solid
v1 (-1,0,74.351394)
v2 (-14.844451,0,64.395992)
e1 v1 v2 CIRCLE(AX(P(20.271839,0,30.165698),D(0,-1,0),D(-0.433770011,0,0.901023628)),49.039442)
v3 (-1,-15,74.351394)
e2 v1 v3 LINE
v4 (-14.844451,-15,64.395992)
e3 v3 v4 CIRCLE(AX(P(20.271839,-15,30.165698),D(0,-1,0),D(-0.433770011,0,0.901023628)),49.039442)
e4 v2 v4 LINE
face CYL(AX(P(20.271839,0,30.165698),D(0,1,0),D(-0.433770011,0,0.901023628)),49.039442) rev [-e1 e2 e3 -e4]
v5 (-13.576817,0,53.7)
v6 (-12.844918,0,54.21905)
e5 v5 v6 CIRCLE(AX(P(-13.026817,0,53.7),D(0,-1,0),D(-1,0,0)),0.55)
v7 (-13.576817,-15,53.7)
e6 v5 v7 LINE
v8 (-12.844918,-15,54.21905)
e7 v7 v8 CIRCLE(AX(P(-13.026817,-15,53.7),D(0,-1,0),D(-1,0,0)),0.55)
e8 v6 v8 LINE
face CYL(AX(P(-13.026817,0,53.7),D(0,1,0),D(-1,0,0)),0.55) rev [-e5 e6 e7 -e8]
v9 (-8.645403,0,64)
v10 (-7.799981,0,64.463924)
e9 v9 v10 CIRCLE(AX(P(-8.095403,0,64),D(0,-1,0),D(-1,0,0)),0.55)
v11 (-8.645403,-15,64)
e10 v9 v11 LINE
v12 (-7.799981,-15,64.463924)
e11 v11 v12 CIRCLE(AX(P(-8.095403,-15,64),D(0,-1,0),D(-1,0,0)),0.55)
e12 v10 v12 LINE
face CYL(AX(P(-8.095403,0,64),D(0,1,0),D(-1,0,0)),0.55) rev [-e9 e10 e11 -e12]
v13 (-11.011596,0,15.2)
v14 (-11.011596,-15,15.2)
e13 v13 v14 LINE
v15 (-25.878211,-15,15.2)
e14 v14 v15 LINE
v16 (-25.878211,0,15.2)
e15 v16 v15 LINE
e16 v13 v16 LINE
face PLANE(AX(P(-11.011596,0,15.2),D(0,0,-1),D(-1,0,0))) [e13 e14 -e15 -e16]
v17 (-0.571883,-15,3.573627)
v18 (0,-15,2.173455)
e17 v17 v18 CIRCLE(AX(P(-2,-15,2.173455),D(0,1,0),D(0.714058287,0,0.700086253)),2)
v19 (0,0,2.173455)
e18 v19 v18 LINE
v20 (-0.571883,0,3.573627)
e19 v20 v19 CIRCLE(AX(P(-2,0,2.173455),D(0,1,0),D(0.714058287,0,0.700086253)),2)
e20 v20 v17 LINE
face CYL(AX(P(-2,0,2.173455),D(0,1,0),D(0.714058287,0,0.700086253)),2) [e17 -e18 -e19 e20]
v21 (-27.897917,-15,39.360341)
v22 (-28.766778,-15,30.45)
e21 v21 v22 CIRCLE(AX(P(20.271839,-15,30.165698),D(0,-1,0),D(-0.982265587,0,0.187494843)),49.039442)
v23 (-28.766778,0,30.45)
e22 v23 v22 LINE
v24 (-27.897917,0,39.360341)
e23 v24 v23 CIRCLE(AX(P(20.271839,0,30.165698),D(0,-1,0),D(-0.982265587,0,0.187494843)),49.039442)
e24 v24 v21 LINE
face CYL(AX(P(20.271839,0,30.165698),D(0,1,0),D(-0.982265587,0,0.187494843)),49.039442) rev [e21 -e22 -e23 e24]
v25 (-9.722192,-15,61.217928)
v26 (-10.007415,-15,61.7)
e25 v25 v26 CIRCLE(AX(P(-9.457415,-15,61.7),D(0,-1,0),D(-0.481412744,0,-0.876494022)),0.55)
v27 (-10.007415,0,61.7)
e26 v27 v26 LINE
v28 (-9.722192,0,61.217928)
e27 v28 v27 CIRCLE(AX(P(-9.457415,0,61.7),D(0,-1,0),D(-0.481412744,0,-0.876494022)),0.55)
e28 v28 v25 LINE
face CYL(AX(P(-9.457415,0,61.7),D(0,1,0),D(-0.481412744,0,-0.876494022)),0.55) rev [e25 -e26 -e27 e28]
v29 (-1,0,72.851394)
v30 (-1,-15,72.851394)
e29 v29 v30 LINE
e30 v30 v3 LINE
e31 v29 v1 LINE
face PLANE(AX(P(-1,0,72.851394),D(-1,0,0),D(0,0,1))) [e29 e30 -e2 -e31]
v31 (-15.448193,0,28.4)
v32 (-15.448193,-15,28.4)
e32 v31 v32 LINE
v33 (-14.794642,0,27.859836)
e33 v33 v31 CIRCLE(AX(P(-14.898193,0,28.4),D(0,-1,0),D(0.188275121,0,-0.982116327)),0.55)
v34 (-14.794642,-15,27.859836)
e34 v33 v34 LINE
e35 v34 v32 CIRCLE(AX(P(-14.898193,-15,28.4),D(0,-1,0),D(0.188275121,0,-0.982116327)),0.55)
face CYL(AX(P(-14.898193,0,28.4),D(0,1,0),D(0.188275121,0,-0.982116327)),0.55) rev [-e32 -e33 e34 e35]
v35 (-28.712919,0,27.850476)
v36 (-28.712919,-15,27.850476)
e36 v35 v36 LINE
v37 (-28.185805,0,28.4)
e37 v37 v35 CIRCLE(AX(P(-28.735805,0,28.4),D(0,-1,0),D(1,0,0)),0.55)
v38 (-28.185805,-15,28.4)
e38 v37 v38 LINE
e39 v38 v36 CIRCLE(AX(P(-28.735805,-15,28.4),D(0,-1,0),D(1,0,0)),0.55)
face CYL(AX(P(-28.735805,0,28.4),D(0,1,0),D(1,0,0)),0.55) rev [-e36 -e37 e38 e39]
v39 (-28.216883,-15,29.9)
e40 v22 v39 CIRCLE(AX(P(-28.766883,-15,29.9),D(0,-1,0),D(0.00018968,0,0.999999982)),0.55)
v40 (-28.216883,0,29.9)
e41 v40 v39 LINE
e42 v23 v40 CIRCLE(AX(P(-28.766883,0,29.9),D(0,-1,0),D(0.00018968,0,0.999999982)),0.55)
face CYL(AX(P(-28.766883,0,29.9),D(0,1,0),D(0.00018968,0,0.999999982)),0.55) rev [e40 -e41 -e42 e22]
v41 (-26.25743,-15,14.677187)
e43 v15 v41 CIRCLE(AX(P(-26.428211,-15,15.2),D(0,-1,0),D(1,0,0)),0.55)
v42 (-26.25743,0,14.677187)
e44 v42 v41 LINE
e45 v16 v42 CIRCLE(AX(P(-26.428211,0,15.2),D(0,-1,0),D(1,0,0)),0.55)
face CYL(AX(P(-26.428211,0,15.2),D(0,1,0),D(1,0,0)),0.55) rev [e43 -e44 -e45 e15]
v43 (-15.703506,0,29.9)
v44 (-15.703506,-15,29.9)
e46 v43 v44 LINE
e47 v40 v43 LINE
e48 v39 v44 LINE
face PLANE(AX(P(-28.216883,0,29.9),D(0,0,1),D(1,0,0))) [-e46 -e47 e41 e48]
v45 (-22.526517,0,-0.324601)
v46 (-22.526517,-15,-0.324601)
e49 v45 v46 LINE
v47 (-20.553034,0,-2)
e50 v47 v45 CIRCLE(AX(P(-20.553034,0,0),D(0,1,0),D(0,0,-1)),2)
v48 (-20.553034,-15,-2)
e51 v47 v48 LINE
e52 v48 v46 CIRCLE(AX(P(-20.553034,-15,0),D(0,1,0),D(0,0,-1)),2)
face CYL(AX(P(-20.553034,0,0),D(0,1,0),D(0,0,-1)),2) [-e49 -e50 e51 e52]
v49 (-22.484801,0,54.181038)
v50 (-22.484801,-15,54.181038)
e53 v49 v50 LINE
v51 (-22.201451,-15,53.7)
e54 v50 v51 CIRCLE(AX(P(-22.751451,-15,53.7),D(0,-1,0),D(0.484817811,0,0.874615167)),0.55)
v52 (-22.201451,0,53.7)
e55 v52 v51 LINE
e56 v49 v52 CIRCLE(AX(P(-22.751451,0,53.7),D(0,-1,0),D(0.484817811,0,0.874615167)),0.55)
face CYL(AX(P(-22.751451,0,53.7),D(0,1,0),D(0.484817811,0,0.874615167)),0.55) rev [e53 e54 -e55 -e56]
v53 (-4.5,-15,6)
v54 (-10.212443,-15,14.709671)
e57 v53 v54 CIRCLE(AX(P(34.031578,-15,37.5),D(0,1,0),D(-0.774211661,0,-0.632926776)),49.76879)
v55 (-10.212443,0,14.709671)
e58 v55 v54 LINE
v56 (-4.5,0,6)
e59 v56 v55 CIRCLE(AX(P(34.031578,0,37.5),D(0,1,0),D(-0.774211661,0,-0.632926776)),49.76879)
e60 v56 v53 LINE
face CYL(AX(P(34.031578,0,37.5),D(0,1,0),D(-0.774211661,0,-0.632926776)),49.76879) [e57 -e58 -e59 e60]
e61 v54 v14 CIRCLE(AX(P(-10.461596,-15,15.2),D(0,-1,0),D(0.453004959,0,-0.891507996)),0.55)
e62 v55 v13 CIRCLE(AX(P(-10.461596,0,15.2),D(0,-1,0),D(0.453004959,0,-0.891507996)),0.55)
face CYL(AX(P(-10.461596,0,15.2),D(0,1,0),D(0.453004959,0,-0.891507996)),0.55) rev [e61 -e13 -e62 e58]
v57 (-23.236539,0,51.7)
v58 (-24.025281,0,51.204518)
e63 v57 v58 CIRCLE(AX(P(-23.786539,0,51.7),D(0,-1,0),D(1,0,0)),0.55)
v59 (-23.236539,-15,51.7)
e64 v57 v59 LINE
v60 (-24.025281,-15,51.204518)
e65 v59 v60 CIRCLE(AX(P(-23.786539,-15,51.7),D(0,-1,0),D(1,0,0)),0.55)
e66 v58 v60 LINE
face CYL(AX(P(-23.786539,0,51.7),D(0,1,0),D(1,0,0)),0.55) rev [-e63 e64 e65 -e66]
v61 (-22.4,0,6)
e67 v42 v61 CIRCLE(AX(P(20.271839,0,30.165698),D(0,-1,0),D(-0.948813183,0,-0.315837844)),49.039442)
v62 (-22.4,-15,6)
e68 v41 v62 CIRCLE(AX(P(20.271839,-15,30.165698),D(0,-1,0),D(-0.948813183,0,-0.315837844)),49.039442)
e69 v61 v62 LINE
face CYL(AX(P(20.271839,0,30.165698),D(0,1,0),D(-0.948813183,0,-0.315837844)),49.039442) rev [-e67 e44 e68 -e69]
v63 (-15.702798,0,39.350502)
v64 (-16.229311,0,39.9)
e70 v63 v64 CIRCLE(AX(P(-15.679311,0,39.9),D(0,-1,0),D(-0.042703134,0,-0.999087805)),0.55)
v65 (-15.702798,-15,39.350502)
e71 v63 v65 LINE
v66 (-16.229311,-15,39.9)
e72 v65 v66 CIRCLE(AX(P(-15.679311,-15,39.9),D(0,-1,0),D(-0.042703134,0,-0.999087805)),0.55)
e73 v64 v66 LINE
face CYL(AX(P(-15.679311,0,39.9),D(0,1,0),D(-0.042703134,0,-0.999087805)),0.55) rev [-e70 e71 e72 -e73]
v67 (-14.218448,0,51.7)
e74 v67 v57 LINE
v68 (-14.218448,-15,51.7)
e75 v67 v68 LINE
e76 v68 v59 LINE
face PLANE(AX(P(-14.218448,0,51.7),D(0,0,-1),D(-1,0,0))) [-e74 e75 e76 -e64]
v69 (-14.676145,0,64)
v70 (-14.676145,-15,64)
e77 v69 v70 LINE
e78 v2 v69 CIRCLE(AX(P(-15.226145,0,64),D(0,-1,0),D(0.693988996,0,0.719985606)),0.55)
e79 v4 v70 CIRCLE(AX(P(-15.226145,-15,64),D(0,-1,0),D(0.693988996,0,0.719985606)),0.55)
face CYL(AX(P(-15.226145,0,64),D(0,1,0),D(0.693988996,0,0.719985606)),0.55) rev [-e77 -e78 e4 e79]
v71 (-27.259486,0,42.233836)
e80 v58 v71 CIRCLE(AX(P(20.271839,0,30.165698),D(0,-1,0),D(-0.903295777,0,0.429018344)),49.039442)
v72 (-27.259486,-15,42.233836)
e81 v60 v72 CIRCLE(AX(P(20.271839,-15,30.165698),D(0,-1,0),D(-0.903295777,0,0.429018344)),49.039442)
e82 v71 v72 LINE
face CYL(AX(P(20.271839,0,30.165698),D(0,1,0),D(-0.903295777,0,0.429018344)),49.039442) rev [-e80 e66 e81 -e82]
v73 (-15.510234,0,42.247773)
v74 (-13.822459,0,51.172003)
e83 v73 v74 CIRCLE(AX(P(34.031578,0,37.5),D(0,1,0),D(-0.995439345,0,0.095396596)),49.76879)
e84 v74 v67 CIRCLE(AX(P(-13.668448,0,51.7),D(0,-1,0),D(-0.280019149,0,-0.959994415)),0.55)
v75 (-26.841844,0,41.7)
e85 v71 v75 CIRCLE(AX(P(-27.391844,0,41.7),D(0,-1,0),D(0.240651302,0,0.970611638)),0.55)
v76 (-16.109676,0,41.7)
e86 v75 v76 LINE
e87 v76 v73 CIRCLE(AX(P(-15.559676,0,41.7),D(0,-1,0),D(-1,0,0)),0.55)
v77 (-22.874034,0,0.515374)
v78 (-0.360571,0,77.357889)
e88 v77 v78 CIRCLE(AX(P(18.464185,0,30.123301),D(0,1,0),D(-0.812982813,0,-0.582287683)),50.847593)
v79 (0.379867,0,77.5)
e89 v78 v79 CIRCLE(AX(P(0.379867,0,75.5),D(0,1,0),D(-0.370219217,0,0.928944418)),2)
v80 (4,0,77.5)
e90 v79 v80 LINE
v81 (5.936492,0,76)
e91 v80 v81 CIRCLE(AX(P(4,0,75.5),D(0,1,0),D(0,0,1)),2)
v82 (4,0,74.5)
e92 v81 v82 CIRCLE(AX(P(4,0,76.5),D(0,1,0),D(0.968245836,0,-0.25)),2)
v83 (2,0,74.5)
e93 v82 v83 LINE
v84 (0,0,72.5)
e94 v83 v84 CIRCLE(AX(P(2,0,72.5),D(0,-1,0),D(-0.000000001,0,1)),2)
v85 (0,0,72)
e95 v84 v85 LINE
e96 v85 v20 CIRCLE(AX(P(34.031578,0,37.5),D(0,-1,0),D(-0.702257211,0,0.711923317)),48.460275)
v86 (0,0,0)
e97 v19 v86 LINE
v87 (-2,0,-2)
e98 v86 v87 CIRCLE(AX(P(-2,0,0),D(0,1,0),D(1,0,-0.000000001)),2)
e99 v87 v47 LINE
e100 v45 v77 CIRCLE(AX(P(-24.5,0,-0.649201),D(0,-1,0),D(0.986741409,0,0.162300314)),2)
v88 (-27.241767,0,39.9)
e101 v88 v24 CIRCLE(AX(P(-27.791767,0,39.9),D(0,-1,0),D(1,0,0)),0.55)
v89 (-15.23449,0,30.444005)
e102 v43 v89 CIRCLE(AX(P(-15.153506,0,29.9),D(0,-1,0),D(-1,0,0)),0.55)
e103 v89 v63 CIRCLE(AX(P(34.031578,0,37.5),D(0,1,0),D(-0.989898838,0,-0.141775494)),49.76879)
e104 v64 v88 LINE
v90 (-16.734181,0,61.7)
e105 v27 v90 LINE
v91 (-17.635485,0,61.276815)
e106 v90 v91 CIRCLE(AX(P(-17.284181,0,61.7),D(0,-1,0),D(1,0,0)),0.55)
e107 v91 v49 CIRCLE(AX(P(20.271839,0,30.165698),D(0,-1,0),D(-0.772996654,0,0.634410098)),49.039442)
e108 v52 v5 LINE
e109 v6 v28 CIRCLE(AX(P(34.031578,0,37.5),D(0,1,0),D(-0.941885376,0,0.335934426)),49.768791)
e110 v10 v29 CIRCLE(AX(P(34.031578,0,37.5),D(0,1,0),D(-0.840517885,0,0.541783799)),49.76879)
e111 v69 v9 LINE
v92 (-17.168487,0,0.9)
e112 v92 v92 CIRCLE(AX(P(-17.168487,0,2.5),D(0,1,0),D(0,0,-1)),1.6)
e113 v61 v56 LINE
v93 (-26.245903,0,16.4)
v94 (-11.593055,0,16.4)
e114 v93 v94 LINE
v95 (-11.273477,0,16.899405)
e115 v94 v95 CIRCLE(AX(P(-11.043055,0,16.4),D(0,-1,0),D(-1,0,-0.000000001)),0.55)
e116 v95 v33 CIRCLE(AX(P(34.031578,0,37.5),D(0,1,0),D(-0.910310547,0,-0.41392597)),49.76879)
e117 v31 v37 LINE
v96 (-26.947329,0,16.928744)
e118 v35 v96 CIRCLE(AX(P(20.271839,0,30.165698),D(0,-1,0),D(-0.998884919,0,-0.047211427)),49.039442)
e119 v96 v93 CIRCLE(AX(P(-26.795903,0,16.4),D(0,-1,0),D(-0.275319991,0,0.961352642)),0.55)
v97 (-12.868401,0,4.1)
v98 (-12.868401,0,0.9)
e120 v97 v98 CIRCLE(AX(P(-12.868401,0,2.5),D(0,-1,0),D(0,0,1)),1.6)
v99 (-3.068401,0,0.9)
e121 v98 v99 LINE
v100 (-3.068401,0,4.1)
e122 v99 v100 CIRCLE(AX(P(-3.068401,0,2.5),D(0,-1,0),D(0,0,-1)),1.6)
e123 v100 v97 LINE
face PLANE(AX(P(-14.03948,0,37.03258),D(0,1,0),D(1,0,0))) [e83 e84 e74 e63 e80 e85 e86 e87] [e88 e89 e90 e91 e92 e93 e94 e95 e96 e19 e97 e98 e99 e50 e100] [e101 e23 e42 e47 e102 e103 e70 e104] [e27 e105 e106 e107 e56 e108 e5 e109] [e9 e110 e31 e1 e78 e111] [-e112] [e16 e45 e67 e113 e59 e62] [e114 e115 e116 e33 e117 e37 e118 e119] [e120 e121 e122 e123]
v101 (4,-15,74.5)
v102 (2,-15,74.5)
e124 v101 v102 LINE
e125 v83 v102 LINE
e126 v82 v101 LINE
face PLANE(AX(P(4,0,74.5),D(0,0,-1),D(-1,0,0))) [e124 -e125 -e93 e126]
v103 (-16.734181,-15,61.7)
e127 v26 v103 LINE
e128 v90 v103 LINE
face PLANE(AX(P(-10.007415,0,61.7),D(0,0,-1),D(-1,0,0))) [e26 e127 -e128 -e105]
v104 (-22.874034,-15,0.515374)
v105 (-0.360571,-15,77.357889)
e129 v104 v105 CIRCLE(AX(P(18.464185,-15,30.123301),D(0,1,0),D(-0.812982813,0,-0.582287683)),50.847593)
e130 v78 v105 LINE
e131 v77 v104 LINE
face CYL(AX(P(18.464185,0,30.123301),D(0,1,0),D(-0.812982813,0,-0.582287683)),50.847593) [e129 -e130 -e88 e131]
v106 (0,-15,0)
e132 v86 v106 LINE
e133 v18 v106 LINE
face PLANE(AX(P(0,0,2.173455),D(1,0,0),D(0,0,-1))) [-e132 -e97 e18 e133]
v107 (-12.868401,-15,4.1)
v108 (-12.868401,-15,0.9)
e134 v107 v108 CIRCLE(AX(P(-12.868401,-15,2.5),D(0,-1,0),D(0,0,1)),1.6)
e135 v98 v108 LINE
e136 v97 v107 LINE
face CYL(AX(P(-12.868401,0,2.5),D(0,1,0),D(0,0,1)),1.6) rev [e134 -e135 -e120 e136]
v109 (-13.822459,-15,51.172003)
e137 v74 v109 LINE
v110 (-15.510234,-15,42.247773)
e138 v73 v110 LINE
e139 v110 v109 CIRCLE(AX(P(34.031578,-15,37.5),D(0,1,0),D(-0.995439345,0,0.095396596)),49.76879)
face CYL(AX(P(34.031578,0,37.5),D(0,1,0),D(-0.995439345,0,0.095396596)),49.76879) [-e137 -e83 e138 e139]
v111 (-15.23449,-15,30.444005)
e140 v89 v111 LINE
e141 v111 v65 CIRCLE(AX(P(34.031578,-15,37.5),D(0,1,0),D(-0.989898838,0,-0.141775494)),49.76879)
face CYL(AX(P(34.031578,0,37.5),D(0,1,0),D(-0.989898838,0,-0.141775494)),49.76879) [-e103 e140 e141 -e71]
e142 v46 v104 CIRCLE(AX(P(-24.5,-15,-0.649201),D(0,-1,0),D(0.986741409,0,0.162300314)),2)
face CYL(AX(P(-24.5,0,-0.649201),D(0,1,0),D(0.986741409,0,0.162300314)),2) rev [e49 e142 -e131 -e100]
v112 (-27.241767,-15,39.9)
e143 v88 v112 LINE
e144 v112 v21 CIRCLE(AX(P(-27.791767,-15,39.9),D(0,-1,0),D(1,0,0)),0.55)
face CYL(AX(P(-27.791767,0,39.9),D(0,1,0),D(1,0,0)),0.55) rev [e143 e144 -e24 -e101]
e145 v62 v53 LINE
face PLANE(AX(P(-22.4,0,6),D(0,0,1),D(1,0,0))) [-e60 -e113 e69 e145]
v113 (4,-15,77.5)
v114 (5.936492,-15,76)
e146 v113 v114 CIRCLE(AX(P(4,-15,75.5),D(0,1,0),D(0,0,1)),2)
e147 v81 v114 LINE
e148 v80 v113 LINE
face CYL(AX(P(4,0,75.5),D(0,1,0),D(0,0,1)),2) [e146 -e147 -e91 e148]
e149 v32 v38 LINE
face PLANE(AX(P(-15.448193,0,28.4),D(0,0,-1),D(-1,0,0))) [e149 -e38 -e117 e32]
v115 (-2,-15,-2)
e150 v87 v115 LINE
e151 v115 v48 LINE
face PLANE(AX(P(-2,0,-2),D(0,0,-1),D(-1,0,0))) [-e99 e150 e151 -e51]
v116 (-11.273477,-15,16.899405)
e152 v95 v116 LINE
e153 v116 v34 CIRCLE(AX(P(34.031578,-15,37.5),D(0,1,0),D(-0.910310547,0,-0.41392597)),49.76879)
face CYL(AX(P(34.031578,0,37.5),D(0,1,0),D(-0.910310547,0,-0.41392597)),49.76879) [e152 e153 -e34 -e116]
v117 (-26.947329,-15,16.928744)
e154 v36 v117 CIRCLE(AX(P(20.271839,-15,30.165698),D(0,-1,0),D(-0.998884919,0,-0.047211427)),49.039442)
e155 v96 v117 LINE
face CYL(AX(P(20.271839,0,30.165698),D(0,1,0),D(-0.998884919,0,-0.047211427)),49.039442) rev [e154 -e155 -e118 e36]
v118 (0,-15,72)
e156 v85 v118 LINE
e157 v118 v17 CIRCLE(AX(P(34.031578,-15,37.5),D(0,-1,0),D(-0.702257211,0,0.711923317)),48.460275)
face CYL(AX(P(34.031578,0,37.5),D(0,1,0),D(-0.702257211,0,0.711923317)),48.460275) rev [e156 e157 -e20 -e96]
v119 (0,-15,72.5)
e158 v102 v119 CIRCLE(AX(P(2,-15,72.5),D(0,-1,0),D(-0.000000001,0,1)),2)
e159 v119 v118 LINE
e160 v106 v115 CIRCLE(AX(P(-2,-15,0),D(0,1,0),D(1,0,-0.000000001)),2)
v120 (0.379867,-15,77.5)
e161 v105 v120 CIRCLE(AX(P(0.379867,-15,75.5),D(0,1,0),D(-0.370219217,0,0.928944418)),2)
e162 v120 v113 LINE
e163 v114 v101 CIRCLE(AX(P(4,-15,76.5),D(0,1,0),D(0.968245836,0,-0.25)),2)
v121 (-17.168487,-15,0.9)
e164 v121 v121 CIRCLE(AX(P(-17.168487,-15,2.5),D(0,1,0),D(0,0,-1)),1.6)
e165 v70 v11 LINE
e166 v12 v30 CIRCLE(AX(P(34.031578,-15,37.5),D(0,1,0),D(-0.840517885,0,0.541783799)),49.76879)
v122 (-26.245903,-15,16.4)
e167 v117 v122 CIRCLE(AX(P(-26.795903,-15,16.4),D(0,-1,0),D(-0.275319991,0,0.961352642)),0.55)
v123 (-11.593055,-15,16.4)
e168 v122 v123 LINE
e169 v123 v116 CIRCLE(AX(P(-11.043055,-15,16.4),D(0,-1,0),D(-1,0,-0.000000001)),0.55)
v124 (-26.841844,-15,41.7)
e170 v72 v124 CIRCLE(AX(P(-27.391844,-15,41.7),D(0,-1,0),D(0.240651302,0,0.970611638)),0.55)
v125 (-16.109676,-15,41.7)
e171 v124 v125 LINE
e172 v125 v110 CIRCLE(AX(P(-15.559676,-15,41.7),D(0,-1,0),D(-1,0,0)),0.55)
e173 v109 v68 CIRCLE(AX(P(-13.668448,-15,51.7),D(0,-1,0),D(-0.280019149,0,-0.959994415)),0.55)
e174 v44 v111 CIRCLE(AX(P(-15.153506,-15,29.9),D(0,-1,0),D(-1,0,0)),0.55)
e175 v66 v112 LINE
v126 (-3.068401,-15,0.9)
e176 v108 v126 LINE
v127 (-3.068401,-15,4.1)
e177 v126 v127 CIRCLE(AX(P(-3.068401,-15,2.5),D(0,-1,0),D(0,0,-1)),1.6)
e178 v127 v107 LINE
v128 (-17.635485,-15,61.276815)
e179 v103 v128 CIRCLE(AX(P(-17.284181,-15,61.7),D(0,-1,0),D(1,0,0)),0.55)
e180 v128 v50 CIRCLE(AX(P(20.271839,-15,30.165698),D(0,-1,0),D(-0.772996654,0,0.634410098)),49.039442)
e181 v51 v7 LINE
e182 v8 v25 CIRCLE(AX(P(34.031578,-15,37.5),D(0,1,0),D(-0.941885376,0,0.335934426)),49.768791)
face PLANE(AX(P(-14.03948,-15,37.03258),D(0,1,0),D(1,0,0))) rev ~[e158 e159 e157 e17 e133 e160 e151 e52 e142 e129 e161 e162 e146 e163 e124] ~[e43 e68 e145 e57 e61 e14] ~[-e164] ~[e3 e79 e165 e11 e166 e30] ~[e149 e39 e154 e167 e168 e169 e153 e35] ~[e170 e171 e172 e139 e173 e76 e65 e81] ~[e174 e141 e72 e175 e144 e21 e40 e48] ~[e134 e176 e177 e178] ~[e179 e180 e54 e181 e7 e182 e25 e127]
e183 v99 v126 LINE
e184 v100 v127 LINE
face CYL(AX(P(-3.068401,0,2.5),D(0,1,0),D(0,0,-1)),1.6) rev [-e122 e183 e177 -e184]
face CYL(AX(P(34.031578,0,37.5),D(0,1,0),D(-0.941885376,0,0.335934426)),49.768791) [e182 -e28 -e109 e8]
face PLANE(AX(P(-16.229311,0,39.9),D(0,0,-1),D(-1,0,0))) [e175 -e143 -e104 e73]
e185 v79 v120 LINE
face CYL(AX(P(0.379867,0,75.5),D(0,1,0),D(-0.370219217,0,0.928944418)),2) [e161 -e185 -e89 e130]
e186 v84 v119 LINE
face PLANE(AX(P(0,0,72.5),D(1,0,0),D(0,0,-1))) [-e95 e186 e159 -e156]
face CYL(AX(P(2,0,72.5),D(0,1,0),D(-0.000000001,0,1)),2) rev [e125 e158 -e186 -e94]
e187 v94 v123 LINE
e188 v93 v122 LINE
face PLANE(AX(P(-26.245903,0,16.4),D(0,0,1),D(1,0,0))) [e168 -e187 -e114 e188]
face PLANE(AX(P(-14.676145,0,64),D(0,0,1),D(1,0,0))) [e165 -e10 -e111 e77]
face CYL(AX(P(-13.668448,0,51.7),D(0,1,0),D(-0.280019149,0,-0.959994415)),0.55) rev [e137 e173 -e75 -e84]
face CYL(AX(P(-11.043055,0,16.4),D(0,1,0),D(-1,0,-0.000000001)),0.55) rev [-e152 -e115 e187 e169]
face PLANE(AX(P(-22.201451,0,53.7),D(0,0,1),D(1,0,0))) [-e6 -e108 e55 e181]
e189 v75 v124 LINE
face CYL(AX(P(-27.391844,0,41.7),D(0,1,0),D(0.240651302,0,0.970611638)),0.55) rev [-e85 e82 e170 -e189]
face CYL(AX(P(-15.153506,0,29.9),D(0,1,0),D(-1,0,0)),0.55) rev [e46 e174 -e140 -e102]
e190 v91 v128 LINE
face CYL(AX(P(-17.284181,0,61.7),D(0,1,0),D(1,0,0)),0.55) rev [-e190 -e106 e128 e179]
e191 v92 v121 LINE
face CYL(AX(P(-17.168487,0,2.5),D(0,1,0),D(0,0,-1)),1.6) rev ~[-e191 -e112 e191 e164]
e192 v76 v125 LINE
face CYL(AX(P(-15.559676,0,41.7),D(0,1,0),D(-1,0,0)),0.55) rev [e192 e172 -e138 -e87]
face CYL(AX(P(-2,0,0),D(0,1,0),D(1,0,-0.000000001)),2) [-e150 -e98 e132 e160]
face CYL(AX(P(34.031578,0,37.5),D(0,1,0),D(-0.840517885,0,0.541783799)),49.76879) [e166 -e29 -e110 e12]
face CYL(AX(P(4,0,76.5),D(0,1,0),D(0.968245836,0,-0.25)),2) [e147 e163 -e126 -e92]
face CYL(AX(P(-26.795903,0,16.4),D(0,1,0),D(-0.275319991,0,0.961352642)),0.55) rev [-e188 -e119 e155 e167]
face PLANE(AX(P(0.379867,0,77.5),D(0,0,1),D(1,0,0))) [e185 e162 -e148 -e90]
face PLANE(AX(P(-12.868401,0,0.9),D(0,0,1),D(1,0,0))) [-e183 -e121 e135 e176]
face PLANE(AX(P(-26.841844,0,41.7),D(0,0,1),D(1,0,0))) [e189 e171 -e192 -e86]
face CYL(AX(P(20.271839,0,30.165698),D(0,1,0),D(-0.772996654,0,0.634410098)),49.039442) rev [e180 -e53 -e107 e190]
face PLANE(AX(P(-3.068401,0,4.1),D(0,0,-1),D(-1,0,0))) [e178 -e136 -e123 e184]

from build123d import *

# Parameters (mm, degrees)
ESQUISSE1_R        = 1.6
BOSS_EXTRU_1_DEPTH = 15


with BuildPart() as part:
    # Esquisse1 → Boss.-Extru.1 (new body)
    with BuildSketch(Plane(origin=(0, 0, 0), x_dir=(1, 0, 0), z_dir=(0, 1, 0))):
        with BuildLine():
            Line((0.379867182, -77.5), (4, -77.5))
            ThreePointArc((4, -77.5), (5.224744871, -77.08113883), (5.936491673, -76))
            ThreePointArc((5.936491673, -76), (5.224744871, -74.91886117), (4, -74.5))
            Line((4, -74.5), (2, -74.5))
            ThreePointArc((2, -74.5), (0.585786438, -73.914213562), (0, -72.5))
            Line((0, -72.5), (0, -72))
            ThreePointArc((0, -72), (-14.427005158, -37.9049997), (-0.571883425, -3.573627385))
            ThreePointArc((-0.571883425, -3.573627385), (-0.148482629, -2.929684622), (0, -2.173454879))
            Line((0, -2.173454879), (0, 0))
            ThreePointArc((0, 0), (-0.585786438, 1.414213562), (-2, 2))
            Line((-2, 2), (-20.553034366, 2))
            ThreePointArc((-20.553034366, 2), (-21.847406556, 1.524664105), (-22.526517183, 0.324600632))
            ThreePointArc((-22.526517183, 0.324600632), (-22.651920818, -0.115392313), (-22.874034374, -0.515374102))
            ThreePointArc((-22.874034374, -0.515374102), (-30.332217892, -44.419762154), (-0.360571251, -77.357888836))
            ThreePointArc((-0.360571251, -77.357888836), (0.002890838, -77.46415092), (0.379867182, -77.5))
        make_face()
        with Locations(Location((-17.168486885, -2.5, 0), (0, 0, 90))):
            Circle(ESQUISSE1_R, mode=Mode.SUBTRACT)
        with BuildLine():
            Line((-26.245903328, -16.4), (-11.593054617, -16.4))
            ThreePointArc((-11.593054617, -16.4), (-10.579787815, -16.103547862), (-11.273476907, -16.899405215))
            ThreePointArc((-11.273476907, -16.899405215), (-13.352037133, -22.277466593), (-14.794641856, -27.85983602))
            ThreePointArc((-14.794641856, -27.85983602), (-14.547802836, -28.823941756), (-15.448193173, -28.4))
            Line((-15.448193173, -28.4), (-28.185804557, -28.4))
            ThreePointArc((-28.185804557, -28.4), (-29.132721919, -28.780731674), (-28.712919494, -27.850476321))
            ThreePointArc((-28.712919494, -27.850476321), (-28.139109588, -22.339660076), (-26.947329323, -16.928743953))
            ThreePointArc((-26.947329323, -16.928743953), (-27.126974093, -15.960805113), (-26.245903328, -16.4))
        make_face(mode=Mode.SUBTRACT)
        with BuildLine():
            Line((-28.216882659, -29.9), (-15.703506193, -29.9))
            ThreePointArc((-15.703506193, -29.9), (-14.736948258, -29.540862859), (-15.234489879, -30.444005186))
            ThreePointArc((-15.234489879, -30.444005186), (-15.668556704, -34.886741932), (-15.702797946, -39.350501707))
            ThreePointArc((-15.702797946, -39.350501707), (-15.282185488, -40.280514324), (-16.229311222, -39.9))
            Line((-16.229311222, -39.9), (-27.241766652, -39.9))
            ThreePointArc((-27.241766652, -39.9), (-28.141135688, -40.3247838), (-27.897916749, -39.360340703))
            ThreePointArc((-27.897916749, -39.360340703), (-28.536105971, -34.925039157), (-28.766778335, -30.44999999))
            ThreePointArc((-28.766778335, -30.44999999), (-29.155828271, -29.511128156), (-28.216882659, -29.9))
        make_face(mode=Mode.SUBTRACT)
        with BuildLine():
            Line((-14.218448274, -51.7), (-23.236538966, -51.7))
            ThreePointArc((-23.236538966, -51.7), (-24.079106647, -52.165729699), (-24.025281338, -51.204518335))
            ThreePointArc((-24.025281338, -51.204518335), (-25.860949004, -46.797976835), (-27.259486048, -42.233836401))
            ThreePointArc((-27.259486048, -42.233836401), (-27.825028416, -41.361102537), (-26.841844264, -41.7))
            Line((-26.841844264, -41.7), (-16.109676342, -41.7))
            ThreePointArc((-16.109676342, -41.7), (-15.188659613, -41.293986962), (-15.510234208, -42.247773197))
            ThreePointArc((-15.510234208, -42.247773197), (-14.870347536, -46.748469382), (-13.822458806, -51.172003072))
            ThreePointArc((-13.822458806, -51.172003072), (-13.228444983, -52.029995612), (-14.218448274, -51.7))
        make_face(mode=Mode.SUBTRACT)
        with BuildLine():
            Line((-22.201450768, -53.7), (-13.576816642, -53.7))
            ThreePointArc((-13.576816642, -53.7), (-12.708653375, -53.251366369), (-12.844917969, -54.219049971))
            ThreePointArc((-12.844917969, -54.219049971), (-11.418475339, -57.778687264), (-9.722191927, -61.217928288))
            ThreePointArc((-9.722191927, -61.217928288), (-8.984061268, -61.980064854), (-10.007414918, -61.7))
            Line((-10.007414918, -61.7), (-16.734180973, -61.7))
            ThreePointArc((-16.734180973, -61.7), (-17.517935865, -62.197854045), (-17.635485157, -61.276815206))
            ThreePointArc((-17.635485157, -61.276815206), (-20.215891111, -57.835366348), (-22.484800972, -54.181038342))
            ThreePointArc((-22.484800972, -54.181038342), (-23.225348113, -53.420856119), (-22.201450768, -53.7))
        make_face(mode=Mode.SUBTRACT)
        with BuildLine():
            Line((-14.676144728, -64), (-8.645402719, -64))
            ThreePointArc((-8.645402719, -64), (-7.830810759, -63.517826697), (-7.799980557, -64.463924289))
            ThreePointArc((-7.799980557, -64.463924289), (-4.628127789, -68.842617177), (-1, -72.851393816))
            Line((-1, -72.851393816), (-1, -74.351393816))
            ThreePointArc((-1, -74.351393816), (-8.358263561, -69.980068178), (-14.84445078, -64.395992083))
            ThreePointArc((-14.84445078, -64.395992083), (-15.7323224, -63.784862453), (-14.676144728, -64))
        make_face(mode=Mode.SUBTRACT)
        with BuildLine():
            Line((-3.068400716, -4.1), (-12.868400716, -4.1))
            ThreePointArc((-12.868400716, -4.1), (-14.468400716, -2.5), (-12.868400716, -0.9))
            Line((-12.868400716, -0.9), (-3.068400716, -0.9))
            ThreePointArc((-3.068400716, -0.9), (-1.468400716, -2.5), (-3.068400716, -4.1))
        make_face(mode=Mode.SUBTRACT)
        with BuildLine():
            Line((-11.011595694, -15.2), (-25.878211235, -15.2))
            ThreePointArc((-25.878211235, -15.2), (-26.873424632, -15.52293193), (-26.257429531, -14.677186831))
            ThreePointArc((-26.257429531, -14.677186831), (-24.539239864, -10.245004819), (-22.4, -6))
            Line((-22.4, -6), (-4.5, -6))
            ThreePointArc((-4.5, -6), (-7.584699304, -10.204982732), (-10.212442966, -14.709670602))
            ThreePointArc((-10.212442966, -14.709670602), (-10.173962247, -15.668793132), (-11.011595694, -15.2))
        make_face(mode=Mode.SUBTRACT)
    extrude(amount=-BOSS_EXTRU_1_DEPTH)


solid = part.part
